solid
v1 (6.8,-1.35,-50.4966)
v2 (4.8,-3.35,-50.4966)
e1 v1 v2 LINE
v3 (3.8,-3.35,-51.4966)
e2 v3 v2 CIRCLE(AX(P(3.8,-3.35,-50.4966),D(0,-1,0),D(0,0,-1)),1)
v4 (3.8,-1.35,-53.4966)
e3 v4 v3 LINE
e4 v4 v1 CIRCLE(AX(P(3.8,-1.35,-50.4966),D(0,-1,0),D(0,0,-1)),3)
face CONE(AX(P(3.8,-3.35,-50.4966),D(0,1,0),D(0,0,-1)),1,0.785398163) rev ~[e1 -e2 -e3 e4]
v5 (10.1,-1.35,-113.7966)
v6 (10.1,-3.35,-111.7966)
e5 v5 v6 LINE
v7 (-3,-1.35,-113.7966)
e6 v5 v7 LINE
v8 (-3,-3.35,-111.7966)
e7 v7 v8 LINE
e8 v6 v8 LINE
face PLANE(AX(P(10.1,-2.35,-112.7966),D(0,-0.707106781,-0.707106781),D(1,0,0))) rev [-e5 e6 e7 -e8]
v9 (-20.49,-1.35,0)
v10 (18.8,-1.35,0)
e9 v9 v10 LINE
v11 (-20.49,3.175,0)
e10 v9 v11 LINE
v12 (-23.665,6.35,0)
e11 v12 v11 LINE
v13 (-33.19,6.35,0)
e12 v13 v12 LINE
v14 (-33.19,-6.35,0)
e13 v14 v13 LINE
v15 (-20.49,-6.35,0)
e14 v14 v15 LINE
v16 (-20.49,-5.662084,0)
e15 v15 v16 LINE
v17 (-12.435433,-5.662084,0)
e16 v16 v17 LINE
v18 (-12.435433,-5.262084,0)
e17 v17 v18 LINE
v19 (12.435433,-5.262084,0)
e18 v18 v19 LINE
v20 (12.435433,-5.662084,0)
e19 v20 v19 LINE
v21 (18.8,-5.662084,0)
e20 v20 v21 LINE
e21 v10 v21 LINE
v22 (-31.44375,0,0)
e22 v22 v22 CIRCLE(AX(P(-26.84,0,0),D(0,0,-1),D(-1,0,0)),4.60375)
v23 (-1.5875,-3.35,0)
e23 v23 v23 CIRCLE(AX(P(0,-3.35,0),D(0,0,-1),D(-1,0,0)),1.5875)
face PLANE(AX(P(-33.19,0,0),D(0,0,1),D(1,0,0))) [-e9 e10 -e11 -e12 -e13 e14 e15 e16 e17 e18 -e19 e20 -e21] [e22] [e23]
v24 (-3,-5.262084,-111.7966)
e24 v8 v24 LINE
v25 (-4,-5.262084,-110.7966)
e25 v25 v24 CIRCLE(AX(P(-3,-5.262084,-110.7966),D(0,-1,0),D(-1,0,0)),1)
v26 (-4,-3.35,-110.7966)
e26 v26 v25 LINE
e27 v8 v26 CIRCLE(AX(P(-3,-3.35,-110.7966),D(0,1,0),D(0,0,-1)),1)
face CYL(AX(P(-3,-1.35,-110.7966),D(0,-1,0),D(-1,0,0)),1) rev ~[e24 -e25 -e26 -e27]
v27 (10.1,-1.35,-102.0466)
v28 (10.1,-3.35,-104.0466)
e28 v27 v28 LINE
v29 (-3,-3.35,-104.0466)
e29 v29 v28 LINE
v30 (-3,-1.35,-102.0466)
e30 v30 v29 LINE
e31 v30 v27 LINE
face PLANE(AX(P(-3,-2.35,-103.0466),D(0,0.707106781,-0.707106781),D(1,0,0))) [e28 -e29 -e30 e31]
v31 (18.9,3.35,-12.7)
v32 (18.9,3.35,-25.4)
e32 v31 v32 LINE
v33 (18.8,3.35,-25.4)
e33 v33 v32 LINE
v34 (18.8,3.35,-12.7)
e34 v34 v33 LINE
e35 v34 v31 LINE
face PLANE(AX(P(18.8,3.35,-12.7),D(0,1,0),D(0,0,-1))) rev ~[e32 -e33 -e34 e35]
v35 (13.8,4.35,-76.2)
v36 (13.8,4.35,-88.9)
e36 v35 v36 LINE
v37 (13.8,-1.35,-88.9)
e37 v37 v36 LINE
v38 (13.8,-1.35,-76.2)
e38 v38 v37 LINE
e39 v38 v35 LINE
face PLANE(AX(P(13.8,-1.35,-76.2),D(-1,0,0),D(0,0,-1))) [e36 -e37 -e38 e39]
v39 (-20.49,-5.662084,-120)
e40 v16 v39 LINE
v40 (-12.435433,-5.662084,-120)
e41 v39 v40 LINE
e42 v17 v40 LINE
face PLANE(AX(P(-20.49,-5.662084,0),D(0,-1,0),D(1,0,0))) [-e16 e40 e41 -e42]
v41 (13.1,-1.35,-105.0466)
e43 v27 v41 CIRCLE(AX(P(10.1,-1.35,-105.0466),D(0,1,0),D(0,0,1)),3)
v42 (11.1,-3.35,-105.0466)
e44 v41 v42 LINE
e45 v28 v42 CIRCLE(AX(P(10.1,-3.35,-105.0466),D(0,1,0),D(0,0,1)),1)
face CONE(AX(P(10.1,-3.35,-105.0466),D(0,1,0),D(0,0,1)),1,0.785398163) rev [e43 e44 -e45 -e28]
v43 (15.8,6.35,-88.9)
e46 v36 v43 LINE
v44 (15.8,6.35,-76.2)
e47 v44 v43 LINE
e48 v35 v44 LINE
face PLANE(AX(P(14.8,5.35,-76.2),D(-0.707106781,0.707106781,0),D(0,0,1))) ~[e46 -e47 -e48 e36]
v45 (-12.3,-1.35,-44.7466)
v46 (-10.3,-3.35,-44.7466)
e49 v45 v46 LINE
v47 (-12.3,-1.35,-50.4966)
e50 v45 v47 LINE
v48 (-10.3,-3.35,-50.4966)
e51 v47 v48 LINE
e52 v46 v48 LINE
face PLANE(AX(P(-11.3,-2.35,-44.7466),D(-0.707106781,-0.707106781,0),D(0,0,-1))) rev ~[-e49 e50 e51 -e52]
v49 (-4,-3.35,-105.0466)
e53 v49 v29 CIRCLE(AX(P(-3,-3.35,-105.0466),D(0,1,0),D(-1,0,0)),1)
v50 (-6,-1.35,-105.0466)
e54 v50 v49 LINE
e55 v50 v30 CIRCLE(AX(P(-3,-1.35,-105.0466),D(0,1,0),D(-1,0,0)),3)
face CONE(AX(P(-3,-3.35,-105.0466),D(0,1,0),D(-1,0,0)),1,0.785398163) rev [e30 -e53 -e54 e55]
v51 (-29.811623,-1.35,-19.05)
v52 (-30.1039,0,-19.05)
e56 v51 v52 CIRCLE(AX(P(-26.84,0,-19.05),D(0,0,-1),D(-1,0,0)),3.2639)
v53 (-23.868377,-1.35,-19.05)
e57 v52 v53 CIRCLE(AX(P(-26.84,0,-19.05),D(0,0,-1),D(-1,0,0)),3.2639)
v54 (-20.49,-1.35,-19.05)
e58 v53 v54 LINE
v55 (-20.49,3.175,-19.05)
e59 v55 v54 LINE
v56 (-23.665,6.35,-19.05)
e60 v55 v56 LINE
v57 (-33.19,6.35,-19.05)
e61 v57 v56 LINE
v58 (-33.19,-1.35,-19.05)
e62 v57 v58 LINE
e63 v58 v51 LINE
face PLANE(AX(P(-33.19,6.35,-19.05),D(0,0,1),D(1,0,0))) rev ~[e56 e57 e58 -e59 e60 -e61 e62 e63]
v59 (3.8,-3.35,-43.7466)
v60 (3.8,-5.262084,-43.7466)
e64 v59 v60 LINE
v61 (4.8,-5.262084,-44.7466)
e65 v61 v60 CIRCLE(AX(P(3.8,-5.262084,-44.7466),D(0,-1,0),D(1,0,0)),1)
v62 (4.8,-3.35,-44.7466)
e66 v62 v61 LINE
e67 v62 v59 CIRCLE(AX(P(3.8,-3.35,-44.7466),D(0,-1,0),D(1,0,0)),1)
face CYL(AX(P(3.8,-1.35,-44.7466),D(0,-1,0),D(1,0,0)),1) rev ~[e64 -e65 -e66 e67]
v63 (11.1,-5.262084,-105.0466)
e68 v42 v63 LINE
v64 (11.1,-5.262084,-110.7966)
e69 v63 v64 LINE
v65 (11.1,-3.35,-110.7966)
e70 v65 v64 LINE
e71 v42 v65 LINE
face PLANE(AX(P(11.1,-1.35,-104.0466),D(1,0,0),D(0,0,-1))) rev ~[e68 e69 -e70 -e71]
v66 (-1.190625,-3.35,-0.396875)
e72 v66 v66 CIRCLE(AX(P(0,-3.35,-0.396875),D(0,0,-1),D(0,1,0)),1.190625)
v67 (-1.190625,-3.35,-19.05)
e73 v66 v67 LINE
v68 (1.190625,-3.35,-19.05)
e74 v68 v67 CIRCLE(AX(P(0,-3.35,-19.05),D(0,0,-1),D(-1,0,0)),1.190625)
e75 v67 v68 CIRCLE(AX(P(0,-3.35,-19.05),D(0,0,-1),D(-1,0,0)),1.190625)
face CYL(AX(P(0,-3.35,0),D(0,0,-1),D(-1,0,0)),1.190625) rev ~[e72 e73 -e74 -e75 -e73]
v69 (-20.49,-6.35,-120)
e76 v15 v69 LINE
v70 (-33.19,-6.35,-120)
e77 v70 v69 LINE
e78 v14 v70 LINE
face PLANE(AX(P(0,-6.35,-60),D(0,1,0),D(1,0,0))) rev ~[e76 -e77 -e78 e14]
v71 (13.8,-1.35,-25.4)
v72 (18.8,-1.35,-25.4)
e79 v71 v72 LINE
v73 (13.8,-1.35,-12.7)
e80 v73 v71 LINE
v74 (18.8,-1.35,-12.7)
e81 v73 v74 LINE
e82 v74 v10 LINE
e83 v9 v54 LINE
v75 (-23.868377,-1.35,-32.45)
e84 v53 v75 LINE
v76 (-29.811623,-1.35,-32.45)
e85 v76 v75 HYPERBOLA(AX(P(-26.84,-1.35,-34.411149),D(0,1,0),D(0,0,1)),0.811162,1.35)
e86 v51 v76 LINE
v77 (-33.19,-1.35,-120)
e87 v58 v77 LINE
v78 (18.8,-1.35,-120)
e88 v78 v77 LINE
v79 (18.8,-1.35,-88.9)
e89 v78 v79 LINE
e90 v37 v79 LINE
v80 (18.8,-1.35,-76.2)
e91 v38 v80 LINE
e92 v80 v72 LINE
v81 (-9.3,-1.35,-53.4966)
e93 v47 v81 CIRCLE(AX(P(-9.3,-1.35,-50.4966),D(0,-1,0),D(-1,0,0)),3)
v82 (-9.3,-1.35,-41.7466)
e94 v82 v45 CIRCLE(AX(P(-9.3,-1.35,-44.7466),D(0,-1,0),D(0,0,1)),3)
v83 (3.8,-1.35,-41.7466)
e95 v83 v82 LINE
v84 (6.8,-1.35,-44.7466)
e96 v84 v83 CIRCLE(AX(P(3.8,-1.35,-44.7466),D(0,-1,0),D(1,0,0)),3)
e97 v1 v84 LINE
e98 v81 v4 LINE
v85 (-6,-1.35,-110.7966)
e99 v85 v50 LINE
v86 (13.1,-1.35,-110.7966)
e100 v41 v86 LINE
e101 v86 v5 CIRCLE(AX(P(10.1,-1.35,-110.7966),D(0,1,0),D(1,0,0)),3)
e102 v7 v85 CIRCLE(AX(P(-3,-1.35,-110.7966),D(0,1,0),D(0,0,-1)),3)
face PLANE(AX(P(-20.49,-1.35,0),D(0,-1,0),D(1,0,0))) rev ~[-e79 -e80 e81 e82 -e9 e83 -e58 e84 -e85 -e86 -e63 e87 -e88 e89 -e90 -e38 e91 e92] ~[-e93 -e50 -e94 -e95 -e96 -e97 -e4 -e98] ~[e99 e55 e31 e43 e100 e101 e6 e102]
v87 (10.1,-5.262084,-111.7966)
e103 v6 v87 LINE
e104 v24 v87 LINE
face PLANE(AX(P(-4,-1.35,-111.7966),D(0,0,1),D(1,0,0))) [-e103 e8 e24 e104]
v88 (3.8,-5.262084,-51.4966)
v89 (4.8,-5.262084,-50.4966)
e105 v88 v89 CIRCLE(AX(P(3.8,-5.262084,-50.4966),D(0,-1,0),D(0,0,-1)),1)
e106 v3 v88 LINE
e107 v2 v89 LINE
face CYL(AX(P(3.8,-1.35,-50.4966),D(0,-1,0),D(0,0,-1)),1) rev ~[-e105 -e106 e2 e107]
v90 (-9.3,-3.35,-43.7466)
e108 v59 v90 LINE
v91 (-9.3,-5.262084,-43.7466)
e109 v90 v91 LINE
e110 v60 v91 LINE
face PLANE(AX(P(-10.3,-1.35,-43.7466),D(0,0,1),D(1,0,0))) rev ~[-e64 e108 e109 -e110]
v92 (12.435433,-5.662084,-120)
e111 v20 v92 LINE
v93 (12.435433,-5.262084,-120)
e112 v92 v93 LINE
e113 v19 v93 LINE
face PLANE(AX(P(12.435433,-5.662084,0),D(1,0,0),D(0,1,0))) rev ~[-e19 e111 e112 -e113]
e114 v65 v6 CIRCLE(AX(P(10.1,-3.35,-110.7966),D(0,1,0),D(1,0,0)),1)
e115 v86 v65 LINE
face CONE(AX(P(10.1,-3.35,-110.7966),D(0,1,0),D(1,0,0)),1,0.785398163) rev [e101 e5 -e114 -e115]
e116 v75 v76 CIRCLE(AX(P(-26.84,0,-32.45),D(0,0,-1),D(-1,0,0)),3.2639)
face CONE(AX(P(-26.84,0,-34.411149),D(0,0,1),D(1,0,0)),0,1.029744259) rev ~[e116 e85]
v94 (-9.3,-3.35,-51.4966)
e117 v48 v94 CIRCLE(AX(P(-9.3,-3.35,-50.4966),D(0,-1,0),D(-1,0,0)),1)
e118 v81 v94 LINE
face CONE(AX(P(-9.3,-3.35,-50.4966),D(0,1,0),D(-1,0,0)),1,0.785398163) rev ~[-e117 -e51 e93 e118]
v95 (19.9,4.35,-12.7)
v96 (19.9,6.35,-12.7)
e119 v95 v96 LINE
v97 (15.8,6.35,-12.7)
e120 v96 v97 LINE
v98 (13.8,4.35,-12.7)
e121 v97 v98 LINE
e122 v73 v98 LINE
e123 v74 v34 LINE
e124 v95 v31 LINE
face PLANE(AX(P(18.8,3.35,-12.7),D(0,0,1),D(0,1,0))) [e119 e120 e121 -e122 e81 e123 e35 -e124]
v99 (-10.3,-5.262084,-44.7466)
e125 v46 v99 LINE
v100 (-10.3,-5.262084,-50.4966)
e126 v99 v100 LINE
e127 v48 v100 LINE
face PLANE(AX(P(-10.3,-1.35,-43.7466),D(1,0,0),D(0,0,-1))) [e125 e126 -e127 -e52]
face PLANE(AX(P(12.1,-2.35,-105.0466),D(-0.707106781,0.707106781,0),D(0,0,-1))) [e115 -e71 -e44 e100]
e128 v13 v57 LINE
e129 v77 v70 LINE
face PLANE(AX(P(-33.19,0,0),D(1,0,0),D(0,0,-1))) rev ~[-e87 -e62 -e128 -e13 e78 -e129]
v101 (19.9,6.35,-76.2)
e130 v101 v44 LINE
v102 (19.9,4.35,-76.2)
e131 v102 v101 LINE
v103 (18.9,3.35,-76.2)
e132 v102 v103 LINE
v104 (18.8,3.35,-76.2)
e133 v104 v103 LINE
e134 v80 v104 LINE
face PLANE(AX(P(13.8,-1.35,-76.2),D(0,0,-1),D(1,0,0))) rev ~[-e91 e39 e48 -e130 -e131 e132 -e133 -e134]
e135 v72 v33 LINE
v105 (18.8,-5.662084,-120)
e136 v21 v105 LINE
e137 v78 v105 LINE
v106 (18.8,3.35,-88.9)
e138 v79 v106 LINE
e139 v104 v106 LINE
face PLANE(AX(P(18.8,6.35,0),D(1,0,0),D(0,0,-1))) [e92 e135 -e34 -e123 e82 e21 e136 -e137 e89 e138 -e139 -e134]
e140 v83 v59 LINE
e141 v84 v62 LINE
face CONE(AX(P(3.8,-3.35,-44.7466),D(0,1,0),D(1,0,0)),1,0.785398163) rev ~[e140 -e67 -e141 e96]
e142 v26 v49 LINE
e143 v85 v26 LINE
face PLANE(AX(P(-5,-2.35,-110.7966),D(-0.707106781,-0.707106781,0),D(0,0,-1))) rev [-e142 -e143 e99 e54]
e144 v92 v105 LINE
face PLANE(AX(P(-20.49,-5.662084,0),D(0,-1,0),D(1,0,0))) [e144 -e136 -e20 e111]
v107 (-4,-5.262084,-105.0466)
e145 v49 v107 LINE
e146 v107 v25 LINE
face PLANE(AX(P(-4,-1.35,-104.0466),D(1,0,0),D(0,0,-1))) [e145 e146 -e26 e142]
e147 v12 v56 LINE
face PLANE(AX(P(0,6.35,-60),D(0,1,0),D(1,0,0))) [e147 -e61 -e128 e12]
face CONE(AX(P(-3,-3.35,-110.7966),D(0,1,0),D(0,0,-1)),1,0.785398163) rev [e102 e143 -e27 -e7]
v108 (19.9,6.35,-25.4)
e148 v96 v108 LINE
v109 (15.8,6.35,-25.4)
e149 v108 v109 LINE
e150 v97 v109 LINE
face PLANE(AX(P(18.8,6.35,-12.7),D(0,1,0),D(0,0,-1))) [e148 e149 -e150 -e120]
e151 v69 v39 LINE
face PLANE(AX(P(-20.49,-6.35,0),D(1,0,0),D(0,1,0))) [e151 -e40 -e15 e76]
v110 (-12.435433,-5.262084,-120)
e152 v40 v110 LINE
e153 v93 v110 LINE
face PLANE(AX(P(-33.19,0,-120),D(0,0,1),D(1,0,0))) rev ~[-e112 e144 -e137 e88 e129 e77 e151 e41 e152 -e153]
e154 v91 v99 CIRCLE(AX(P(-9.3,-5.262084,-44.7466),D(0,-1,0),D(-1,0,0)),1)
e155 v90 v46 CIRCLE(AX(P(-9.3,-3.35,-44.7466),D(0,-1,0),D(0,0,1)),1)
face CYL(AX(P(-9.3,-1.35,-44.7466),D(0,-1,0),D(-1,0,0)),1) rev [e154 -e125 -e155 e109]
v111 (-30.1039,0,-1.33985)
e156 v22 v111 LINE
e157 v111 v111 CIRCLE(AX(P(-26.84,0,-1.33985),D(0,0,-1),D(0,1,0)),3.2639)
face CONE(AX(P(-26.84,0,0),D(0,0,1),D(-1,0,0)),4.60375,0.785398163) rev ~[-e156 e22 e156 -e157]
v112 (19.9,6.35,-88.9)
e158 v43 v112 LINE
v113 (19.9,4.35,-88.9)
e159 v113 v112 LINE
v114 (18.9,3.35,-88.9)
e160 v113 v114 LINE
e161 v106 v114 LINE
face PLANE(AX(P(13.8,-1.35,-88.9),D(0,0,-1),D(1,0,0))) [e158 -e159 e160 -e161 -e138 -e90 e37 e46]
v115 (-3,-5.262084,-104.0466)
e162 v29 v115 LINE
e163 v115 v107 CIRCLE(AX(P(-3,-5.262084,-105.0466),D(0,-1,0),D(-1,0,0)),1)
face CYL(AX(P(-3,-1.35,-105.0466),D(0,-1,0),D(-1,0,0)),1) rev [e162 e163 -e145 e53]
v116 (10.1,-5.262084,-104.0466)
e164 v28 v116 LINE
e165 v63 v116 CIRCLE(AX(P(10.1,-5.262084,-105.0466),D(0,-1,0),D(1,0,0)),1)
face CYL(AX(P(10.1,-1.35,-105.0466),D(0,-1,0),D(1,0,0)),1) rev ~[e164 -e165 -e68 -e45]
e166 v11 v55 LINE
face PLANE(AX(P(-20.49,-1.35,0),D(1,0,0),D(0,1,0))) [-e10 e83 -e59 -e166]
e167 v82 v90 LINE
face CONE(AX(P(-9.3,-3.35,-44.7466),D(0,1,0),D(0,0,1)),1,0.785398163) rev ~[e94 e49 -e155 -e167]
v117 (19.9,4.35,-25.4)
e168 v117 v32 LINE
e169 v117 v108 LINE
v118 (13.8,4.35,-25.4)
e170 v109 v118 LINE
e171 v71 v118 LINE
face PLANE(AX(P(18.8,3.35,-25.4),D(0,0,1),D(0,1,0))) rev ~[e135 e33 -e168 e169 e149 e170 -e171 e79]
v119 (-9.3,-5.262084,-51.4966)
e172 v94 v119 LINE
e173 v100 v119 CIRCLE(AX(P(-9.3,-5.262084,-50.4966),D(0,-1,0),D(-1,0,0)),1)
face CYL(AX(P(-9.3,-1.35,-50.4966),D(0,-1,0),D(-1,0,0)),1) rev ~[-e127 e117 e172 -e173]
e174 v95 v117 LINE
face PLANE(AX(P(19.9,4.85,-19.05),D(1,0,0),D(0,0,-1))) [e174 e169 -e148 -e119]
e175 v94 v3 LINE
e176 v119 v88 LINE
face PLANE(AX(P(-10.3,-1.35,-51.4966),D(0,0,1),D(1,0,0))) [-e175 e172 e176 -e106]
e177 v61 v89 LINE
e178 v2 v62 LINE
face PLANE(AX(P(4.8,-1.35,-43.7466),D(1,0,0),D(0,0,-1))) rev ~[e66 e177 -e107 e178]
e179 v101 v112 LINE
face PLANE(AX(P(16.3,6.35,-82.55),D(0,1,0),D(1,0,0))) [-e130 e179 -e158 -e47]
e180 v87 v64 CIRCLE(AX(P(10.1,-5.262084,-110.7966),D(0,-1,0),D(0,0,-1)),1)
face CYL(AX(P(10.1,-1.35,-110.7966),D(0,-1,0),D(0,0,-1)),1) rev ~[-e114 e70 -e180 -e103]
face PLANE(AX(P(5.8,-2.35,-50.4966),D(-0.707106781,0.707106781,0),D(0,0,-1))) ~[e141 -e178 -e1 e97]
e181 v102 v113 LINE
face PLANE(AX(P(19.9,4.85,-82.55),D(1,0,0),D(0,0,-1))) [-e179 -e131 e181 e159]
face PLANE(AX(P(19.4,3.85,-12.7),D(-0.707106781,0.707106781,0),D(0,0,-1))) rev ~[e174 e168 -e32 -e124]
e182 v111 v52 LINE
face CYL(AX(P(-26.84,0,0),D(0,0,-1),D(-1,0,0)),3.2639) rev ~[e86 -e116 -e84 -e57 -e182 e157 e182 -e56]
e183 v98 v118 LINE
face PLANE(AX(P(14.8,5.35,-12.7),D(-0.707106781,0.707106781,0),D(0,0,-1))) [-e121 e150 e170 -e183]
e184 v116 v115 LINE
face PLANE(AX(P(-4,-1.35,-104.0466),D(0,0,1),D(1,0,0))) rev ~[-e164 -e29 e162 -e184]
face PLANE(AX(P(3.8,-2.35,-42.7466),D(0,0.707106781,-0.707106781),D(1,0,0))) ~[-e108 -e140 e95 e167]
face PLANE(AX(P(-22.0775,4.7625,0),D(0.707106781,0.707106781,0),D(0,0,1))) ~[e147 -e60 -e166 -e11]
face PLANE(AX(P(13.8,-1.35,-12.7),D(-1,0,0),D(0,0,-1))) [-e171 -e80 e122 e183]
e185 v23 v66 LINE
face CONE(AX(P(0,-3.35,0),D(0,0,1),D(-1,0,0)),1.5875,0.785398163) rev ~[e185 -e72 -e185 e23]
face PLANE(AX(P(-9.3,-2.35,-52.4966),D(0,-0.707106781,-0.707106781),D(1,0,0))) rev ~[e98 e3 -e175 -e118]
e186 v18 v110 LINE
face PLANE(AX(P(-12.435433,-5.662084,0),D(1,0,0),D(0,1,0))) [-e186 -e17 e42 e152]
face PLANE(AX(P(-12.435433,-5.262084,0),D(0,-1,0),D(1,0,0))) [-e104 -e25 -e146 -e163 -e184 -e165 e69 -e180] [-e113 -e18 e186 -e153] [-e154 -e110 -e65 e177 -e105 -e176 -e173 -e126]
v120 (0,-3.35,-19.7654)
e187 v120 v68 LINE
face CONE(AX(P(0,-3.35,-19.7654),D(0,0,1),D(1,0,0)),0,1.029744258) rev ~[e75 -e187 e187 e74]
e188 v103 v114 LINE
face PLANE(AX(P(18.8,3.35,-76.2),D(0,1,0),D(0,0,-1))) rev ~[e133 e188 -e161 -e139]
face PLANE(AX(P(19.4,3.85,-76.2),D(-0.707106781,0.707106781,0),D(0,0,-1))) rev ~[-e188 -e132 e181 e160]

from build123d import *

# Parameters (mm, degrees)
SKETCH1_W                                 = 66.38
SKETCH1_H                                 = 120
BOSS_EXTRUDE1_DEPTH                       = 6.35
SKETCH2_W                                 = 40.98
SKETCH2_H                                 = 7.7
CUT_EXTRUDE1_DEPTH                        = 121
F_3_32_0_09375_DIAMETER_HOLE1_D           = 2.38125
F_3_32_0_09375_DIAMETER_HOLE1_DEPTH       = 19.05
F_3_32_0_09375_DIAMETER_HOLE1_CSINK_D     = 3.175
F_3_32_0_09375_DIAMETER_HOLE1_CSINK_ANGLE = 90
F_3_32_0_09375_DIAMETER_HOLE1_TIP         = 0.715399675
CUT_EXTRUDE2_DEPTH                        = 1
CUT_EXTRUDE2_DEPTH_BACK                   = 121
F_5_16_18_TAPPED_HOLE1_D                  = 6.5278
F_5_16_18_TAPPED_HOLE1_DEPTH              = 32.45
F_5_16_18_TAPPED_HOLE1_CSINK_D            = 9.2075
F_5_16_18_TAPPED_HOLE1_CSINK_ANGLE        = 90
F_5_16_18_TAPPED_HOLE1_TIP                = 1.961148974
CHAMFER1_SIZE                             = 3.175
SKETCH6_W                                 = 15.1
SKETCH6_H                                 = 7.75
CUT_EXTRUDE3_DEPTH                        = 6
FILLET1_R                                 = 1
SKETCH18_W                                = 14.39
SKETCH18_H                                = 120
CUT_EXTRUDE10_DEPTH                       = 13.7000001
SKETCH19_W                                = 5
SKETCH19_H                                = 12.7
BOSS_EXTRUDE3_DEPTH                       = 7.7
SKETCH20_W                                = 12.7
SKETCH20_H                                = 3
BOSS_EXTRUDE4_DEPTH                       = 1.1
CHAMFER3_SIZE                             = 1
CHAMFER4_SIZE                             = 2
SKETCH21_W                                = 12.7
SKETCH21_H                                = 100.95
CUT_EXTRUDE11_DEPTH                       = 7.7
SKETCH22_W                                = 24.87086649
SKETCH22_H                                = 0.4
CUT_EXTRUDE12_DEPTH                       = 121.0000001
SKETCH23_W                                = 40.98
SKETCH23_H                                = 0.68791644
CUT_EXTRUDE13_DEPTH                       = 121
CHAMFER5_SIZE                             = 2


with BuildPart() as part:
    # Sketch1 → Boss-Extrude1 (new body, symmetric)
    with BuildSketch(Plane(origin=(0, 0, 0), x_dir=(1, 0, 0), z_dir=(0, 1, 0))):
        with Locations((0, 60)):
            Rectangle(SKETCH1_W, SKETCH1_H)
    extrude(amount=BOSS_EXTRUDE1_DEPTH, both=True)

    # Sketch2 → Cut-Extrude1 (cut, through all)
    with BuildSketch(Plane.XY):
        with Locations((0, 2.5)):
            Rectangle(SKETCH2_W, SKETCH2_H)
    extrude(amount=-CUT_EXTRUDE1_DEPTH, mode=Mode.SUBTRACT)

    # 3_32 _0.09375_ Diameter Hole1
    with Locations(Plane.XY):
        with Locations((0, -3.35)):
            CounterSinkHole(F_3_32_0_09375_DIAMETER_HOLE1_D / 2, F_3_32_0_09375_DIAMETER_HOLE1_CSINK_D / 2, depth=F_3_32_0_09375_DIAMETER_HOLE1_DEPTH, counter_sink_angle=F_3_32_0_09375_DIAMETER_HOLE1_CSINK_ANGLE)
            with Locations((0, 0, -(F_3_32_0_09375_DIAMETER_HOLE1_DEPTH + F_3_32_0_09375_DIAMETER_HOLE1_TIP / 2))):  # 118° drill point
                Cone(0, F_3_32_0_09375_DIAMETER_HOLE1_D / 2, F_3_32_0_09375_DIAMETER_HOLE1_TIP, mode=Mode.SUBTRACT)

    # Sketch3 → Cut-Extrude2 (cut, two sides)
    with BuildSketch(Plane.XY) as cut_extrude2_sk:
        with BuildLine():
            Line((-140.137251951, -19.091259006), (-20.49, -6.35))
            ThreePointArc((-20.49, -6.35), (0, -5.26208356), (20.49, -6.35))
            Line((20.49, -6.35), (140.137251951, -19.091259006))
            Line((140.137251951, -19.091259006), (140.137251951, -259.738757065))
            Line((140.137251951, -259.738757065), (-140.137251951, -259.738757065))
            Line((-140.137251951, -259.738757065), (-140.137251951, -19.091259006))
        make_face()
    extrude(amount=CUT_EXTRUDE2_DEPTH, mode=Mode.SUBTRACT)
    extrude(cut_extrude2_sk.sketch, amount=-CUT_EXTRUDE2_DEPTH_BACK, mode=Mode.SUBTRACT)

    # 5_16-18 Tapped Hole1
    with Locations(Plane.XY):
        with Locations((-26.84, 0)):
            CounterSinkHole(F_5_16_18_TAPPED_HOLE1_D / 2, F_5_16_18_TAPPED_HOLE1_CSINK_D / 2, depth=F_5_16_18_TAPPED_HOLE1_DEPTH, counter_sink_angle=F_5_16_18_TAPPED_HOLE1_CSINK_ANGLE)
            with Locations((0, 0, -(F_5_16_18_TAPPED_HOLE1_DEPTH + F_5_16_18_TAPPED_HOLE1_TIP / 2))):  # 118° drill point
                Cone(0, F_5_16_18_TAPPED_HOLE1_D / 2, F_5_16_18_TAPPED_HOLE1_TIP, mode=Mode.SUBTRACT)

    # Chamfer1
    chamfer1_edges = [part.edges().sort_by_distance(p)[0] for p in [
        (-20.49, 6.35, -60),
    ]]
    chamfer(chamfer1_edges, length=CHAMFER1_SIZE)

    # Sketch6 → Cut-Extrude3 (cut, through all)
    with BuildSketch(Plane(origin=(0, -1.35, 0), x_dir=(1, 0, 0), z_dir=(0, 1, 0))):
        with Locations((3.55, 107.9216)):
            Rectangle(SKETCH6_W, SKETCH6_H)
        with Locations((-2.75, 47.6216)):
            Rectangle(SKETCH6_W, SKETCH6_H)
    extrude(amount=-CUT_EXTRUDE3_DEPTH, mode=Mode.SUBTRACT)

    # Fillet1
    fillet1_edges = [part.edges().sort_by_distance(p)[0] for p in [
        (11.1, -3.465359, -111.7966),
        (11.1, -3.465359, -104.0466),
        (-4, -3.326715824, -104.0466),
        (-4, -3.326715824, -111.7966),
        (4.8, -3.335813803, -51.4966),
        (4.8, -3.335813803, -43.7466),
        (-10.3, -3.443206194, -43.7466),
        (-10.3, -3.443206194, -51.4966),
    ]]
    fillet(fillet1_edges, radius=FILLET1_R)

    # Sketch18 → Cut-Extrude10 (cut, through all)
    with BuildSketch(Plane(origin=(0, 6.35, 0), x_dir=(1, 0, 0), z_dir=(0, 1, 0))):
        with Locations((25.995, 60)):
            Rectangle(SKETCH18_W, SKETCH18_H)
    extrude(amount=-CUT_EXTRUDE10_DEPTH, mode=Mode.SUBTRACT)

    # Sketch19 → Boss-Extrude3 (add)
    with BuildSketch(Plane(origin=(0, -1.35, 0), x_dir=(1, 0, 0), z_dir=(0, 1, 0))):
        with Locations((16.3, 19.05)):
            Rectangle(SKETCH19_W, SKETCH19_H)
        with Locations((16.3, 82.55)):
            Rectangle(SKETCH19_W, SKETCH19_H)
    extrude(amount=BOSS_EXTRUDE3_DEPTH)

    # Sketch20 → Boss-Extrude4 (add)
    with BuildSketch(Plane(origin=(18.8, 0, 0), x_dir=(0, 0, -1), z_dir=(1, 0, 0))):
        with Locations((19.05, 4.85)):
            Rectangle(SKETCH20_W, SKETCH20_H)
        with Locations((82.55, 4.85)):
            Rectangle(SKETCH20_W, SKETCH20_H)
    extrude(amount=BOSS_EXTRUDE4_DEPTH)

    # Chamfer3
    chamfer3_edges = [part.edges().sort_by_distance(p)[0] for p in [
        (19.9, 3.35, -82.55),
        (19.9, 3.35, -19.05),
    ]]
    chamfer(chamfer3_edges, length=CHAMFER3_SIZE)

    # Chamfer4
    chamfer4_edges = [part.edges().sort_by_distance(p)[0] for p in [
        (13.8, 6.35, -19.05),
        (13.8, 6.35, -82.55),
    ]]
    chamfer(chamfer4_edges, length=CHAMFER4_SIZE)

    # Sketch21 → Cut-Extrude11 (cut)
    with BuildSketch(Plane(origin=(0, 6.35, 0), x_dir=(1, 0, 0), z_dir=(0, 1, 0))):
        with Locations((-26.84, 69.525)):
            Rectangle(SKETCH21_W, SKETCH21_H)
    extrude(amount=-CUT_EXTRUDE11_DEPTH, mode=Mode.SUBTRACT)

    # Sketch22 → Cut-Extrude12 (cut, through all)
    with BuildSketch(Plane.XY):
        with Locations((0, -5.46208356)):
            Rectangle(SKETCH22_W, SKETCH22_H)
    extrude(amount=-CUT_EXTRUDE12_DEPTH, mode=Mode.SUBTRACT)

    # Sketch23 → Cut-Extrude13 (cut, through all)
    with BuildSketch(Plane.XY):
        with Locations((0, -6.00604178)):
            Rectangle(SKETCH23_W, SKETCH23_H)
    extrude(amount=-CUT_EXTRUDE13_DEPTH, mode=Mode.SUBTRACT)

    # Chamfer5
    chamfer5_edges = [part.edges().sort_by_distance(p)[0] for p in [
        (-2.75, -1.35, -51.4966),
        (4.8, -1.35, -47.6216),
        (-2.75, -1.35, -43.7466),
        (-10.3, -1.35, -47.6216),
        (-3.707106781, -1.35, -104.339493219),
        (10.807106781, -1.35, -104.339493219),
        (10.807106781, -1.35, -111.503706781),
        (4.507106781, -1.35, -51.203706781),
        (4.507106781, -1.35, -44.039493219),
        (-10.007106781, -1.35, -44.039493219),
        (-10.007106781, -1.35, -51.203706781),
        (-3.707106781, -1.35, -111.503706781),
        (3.55, -1.35, -104.0466),
        (-4, -1.35, -107.9216),
        (11.1, -1.35, -107.9216),
        (3.55, -1.35, -111.7966),
    ]]
    chamfer(chamfer5_edges, length=CHAMFER5_SIZE)


solid = part.part
